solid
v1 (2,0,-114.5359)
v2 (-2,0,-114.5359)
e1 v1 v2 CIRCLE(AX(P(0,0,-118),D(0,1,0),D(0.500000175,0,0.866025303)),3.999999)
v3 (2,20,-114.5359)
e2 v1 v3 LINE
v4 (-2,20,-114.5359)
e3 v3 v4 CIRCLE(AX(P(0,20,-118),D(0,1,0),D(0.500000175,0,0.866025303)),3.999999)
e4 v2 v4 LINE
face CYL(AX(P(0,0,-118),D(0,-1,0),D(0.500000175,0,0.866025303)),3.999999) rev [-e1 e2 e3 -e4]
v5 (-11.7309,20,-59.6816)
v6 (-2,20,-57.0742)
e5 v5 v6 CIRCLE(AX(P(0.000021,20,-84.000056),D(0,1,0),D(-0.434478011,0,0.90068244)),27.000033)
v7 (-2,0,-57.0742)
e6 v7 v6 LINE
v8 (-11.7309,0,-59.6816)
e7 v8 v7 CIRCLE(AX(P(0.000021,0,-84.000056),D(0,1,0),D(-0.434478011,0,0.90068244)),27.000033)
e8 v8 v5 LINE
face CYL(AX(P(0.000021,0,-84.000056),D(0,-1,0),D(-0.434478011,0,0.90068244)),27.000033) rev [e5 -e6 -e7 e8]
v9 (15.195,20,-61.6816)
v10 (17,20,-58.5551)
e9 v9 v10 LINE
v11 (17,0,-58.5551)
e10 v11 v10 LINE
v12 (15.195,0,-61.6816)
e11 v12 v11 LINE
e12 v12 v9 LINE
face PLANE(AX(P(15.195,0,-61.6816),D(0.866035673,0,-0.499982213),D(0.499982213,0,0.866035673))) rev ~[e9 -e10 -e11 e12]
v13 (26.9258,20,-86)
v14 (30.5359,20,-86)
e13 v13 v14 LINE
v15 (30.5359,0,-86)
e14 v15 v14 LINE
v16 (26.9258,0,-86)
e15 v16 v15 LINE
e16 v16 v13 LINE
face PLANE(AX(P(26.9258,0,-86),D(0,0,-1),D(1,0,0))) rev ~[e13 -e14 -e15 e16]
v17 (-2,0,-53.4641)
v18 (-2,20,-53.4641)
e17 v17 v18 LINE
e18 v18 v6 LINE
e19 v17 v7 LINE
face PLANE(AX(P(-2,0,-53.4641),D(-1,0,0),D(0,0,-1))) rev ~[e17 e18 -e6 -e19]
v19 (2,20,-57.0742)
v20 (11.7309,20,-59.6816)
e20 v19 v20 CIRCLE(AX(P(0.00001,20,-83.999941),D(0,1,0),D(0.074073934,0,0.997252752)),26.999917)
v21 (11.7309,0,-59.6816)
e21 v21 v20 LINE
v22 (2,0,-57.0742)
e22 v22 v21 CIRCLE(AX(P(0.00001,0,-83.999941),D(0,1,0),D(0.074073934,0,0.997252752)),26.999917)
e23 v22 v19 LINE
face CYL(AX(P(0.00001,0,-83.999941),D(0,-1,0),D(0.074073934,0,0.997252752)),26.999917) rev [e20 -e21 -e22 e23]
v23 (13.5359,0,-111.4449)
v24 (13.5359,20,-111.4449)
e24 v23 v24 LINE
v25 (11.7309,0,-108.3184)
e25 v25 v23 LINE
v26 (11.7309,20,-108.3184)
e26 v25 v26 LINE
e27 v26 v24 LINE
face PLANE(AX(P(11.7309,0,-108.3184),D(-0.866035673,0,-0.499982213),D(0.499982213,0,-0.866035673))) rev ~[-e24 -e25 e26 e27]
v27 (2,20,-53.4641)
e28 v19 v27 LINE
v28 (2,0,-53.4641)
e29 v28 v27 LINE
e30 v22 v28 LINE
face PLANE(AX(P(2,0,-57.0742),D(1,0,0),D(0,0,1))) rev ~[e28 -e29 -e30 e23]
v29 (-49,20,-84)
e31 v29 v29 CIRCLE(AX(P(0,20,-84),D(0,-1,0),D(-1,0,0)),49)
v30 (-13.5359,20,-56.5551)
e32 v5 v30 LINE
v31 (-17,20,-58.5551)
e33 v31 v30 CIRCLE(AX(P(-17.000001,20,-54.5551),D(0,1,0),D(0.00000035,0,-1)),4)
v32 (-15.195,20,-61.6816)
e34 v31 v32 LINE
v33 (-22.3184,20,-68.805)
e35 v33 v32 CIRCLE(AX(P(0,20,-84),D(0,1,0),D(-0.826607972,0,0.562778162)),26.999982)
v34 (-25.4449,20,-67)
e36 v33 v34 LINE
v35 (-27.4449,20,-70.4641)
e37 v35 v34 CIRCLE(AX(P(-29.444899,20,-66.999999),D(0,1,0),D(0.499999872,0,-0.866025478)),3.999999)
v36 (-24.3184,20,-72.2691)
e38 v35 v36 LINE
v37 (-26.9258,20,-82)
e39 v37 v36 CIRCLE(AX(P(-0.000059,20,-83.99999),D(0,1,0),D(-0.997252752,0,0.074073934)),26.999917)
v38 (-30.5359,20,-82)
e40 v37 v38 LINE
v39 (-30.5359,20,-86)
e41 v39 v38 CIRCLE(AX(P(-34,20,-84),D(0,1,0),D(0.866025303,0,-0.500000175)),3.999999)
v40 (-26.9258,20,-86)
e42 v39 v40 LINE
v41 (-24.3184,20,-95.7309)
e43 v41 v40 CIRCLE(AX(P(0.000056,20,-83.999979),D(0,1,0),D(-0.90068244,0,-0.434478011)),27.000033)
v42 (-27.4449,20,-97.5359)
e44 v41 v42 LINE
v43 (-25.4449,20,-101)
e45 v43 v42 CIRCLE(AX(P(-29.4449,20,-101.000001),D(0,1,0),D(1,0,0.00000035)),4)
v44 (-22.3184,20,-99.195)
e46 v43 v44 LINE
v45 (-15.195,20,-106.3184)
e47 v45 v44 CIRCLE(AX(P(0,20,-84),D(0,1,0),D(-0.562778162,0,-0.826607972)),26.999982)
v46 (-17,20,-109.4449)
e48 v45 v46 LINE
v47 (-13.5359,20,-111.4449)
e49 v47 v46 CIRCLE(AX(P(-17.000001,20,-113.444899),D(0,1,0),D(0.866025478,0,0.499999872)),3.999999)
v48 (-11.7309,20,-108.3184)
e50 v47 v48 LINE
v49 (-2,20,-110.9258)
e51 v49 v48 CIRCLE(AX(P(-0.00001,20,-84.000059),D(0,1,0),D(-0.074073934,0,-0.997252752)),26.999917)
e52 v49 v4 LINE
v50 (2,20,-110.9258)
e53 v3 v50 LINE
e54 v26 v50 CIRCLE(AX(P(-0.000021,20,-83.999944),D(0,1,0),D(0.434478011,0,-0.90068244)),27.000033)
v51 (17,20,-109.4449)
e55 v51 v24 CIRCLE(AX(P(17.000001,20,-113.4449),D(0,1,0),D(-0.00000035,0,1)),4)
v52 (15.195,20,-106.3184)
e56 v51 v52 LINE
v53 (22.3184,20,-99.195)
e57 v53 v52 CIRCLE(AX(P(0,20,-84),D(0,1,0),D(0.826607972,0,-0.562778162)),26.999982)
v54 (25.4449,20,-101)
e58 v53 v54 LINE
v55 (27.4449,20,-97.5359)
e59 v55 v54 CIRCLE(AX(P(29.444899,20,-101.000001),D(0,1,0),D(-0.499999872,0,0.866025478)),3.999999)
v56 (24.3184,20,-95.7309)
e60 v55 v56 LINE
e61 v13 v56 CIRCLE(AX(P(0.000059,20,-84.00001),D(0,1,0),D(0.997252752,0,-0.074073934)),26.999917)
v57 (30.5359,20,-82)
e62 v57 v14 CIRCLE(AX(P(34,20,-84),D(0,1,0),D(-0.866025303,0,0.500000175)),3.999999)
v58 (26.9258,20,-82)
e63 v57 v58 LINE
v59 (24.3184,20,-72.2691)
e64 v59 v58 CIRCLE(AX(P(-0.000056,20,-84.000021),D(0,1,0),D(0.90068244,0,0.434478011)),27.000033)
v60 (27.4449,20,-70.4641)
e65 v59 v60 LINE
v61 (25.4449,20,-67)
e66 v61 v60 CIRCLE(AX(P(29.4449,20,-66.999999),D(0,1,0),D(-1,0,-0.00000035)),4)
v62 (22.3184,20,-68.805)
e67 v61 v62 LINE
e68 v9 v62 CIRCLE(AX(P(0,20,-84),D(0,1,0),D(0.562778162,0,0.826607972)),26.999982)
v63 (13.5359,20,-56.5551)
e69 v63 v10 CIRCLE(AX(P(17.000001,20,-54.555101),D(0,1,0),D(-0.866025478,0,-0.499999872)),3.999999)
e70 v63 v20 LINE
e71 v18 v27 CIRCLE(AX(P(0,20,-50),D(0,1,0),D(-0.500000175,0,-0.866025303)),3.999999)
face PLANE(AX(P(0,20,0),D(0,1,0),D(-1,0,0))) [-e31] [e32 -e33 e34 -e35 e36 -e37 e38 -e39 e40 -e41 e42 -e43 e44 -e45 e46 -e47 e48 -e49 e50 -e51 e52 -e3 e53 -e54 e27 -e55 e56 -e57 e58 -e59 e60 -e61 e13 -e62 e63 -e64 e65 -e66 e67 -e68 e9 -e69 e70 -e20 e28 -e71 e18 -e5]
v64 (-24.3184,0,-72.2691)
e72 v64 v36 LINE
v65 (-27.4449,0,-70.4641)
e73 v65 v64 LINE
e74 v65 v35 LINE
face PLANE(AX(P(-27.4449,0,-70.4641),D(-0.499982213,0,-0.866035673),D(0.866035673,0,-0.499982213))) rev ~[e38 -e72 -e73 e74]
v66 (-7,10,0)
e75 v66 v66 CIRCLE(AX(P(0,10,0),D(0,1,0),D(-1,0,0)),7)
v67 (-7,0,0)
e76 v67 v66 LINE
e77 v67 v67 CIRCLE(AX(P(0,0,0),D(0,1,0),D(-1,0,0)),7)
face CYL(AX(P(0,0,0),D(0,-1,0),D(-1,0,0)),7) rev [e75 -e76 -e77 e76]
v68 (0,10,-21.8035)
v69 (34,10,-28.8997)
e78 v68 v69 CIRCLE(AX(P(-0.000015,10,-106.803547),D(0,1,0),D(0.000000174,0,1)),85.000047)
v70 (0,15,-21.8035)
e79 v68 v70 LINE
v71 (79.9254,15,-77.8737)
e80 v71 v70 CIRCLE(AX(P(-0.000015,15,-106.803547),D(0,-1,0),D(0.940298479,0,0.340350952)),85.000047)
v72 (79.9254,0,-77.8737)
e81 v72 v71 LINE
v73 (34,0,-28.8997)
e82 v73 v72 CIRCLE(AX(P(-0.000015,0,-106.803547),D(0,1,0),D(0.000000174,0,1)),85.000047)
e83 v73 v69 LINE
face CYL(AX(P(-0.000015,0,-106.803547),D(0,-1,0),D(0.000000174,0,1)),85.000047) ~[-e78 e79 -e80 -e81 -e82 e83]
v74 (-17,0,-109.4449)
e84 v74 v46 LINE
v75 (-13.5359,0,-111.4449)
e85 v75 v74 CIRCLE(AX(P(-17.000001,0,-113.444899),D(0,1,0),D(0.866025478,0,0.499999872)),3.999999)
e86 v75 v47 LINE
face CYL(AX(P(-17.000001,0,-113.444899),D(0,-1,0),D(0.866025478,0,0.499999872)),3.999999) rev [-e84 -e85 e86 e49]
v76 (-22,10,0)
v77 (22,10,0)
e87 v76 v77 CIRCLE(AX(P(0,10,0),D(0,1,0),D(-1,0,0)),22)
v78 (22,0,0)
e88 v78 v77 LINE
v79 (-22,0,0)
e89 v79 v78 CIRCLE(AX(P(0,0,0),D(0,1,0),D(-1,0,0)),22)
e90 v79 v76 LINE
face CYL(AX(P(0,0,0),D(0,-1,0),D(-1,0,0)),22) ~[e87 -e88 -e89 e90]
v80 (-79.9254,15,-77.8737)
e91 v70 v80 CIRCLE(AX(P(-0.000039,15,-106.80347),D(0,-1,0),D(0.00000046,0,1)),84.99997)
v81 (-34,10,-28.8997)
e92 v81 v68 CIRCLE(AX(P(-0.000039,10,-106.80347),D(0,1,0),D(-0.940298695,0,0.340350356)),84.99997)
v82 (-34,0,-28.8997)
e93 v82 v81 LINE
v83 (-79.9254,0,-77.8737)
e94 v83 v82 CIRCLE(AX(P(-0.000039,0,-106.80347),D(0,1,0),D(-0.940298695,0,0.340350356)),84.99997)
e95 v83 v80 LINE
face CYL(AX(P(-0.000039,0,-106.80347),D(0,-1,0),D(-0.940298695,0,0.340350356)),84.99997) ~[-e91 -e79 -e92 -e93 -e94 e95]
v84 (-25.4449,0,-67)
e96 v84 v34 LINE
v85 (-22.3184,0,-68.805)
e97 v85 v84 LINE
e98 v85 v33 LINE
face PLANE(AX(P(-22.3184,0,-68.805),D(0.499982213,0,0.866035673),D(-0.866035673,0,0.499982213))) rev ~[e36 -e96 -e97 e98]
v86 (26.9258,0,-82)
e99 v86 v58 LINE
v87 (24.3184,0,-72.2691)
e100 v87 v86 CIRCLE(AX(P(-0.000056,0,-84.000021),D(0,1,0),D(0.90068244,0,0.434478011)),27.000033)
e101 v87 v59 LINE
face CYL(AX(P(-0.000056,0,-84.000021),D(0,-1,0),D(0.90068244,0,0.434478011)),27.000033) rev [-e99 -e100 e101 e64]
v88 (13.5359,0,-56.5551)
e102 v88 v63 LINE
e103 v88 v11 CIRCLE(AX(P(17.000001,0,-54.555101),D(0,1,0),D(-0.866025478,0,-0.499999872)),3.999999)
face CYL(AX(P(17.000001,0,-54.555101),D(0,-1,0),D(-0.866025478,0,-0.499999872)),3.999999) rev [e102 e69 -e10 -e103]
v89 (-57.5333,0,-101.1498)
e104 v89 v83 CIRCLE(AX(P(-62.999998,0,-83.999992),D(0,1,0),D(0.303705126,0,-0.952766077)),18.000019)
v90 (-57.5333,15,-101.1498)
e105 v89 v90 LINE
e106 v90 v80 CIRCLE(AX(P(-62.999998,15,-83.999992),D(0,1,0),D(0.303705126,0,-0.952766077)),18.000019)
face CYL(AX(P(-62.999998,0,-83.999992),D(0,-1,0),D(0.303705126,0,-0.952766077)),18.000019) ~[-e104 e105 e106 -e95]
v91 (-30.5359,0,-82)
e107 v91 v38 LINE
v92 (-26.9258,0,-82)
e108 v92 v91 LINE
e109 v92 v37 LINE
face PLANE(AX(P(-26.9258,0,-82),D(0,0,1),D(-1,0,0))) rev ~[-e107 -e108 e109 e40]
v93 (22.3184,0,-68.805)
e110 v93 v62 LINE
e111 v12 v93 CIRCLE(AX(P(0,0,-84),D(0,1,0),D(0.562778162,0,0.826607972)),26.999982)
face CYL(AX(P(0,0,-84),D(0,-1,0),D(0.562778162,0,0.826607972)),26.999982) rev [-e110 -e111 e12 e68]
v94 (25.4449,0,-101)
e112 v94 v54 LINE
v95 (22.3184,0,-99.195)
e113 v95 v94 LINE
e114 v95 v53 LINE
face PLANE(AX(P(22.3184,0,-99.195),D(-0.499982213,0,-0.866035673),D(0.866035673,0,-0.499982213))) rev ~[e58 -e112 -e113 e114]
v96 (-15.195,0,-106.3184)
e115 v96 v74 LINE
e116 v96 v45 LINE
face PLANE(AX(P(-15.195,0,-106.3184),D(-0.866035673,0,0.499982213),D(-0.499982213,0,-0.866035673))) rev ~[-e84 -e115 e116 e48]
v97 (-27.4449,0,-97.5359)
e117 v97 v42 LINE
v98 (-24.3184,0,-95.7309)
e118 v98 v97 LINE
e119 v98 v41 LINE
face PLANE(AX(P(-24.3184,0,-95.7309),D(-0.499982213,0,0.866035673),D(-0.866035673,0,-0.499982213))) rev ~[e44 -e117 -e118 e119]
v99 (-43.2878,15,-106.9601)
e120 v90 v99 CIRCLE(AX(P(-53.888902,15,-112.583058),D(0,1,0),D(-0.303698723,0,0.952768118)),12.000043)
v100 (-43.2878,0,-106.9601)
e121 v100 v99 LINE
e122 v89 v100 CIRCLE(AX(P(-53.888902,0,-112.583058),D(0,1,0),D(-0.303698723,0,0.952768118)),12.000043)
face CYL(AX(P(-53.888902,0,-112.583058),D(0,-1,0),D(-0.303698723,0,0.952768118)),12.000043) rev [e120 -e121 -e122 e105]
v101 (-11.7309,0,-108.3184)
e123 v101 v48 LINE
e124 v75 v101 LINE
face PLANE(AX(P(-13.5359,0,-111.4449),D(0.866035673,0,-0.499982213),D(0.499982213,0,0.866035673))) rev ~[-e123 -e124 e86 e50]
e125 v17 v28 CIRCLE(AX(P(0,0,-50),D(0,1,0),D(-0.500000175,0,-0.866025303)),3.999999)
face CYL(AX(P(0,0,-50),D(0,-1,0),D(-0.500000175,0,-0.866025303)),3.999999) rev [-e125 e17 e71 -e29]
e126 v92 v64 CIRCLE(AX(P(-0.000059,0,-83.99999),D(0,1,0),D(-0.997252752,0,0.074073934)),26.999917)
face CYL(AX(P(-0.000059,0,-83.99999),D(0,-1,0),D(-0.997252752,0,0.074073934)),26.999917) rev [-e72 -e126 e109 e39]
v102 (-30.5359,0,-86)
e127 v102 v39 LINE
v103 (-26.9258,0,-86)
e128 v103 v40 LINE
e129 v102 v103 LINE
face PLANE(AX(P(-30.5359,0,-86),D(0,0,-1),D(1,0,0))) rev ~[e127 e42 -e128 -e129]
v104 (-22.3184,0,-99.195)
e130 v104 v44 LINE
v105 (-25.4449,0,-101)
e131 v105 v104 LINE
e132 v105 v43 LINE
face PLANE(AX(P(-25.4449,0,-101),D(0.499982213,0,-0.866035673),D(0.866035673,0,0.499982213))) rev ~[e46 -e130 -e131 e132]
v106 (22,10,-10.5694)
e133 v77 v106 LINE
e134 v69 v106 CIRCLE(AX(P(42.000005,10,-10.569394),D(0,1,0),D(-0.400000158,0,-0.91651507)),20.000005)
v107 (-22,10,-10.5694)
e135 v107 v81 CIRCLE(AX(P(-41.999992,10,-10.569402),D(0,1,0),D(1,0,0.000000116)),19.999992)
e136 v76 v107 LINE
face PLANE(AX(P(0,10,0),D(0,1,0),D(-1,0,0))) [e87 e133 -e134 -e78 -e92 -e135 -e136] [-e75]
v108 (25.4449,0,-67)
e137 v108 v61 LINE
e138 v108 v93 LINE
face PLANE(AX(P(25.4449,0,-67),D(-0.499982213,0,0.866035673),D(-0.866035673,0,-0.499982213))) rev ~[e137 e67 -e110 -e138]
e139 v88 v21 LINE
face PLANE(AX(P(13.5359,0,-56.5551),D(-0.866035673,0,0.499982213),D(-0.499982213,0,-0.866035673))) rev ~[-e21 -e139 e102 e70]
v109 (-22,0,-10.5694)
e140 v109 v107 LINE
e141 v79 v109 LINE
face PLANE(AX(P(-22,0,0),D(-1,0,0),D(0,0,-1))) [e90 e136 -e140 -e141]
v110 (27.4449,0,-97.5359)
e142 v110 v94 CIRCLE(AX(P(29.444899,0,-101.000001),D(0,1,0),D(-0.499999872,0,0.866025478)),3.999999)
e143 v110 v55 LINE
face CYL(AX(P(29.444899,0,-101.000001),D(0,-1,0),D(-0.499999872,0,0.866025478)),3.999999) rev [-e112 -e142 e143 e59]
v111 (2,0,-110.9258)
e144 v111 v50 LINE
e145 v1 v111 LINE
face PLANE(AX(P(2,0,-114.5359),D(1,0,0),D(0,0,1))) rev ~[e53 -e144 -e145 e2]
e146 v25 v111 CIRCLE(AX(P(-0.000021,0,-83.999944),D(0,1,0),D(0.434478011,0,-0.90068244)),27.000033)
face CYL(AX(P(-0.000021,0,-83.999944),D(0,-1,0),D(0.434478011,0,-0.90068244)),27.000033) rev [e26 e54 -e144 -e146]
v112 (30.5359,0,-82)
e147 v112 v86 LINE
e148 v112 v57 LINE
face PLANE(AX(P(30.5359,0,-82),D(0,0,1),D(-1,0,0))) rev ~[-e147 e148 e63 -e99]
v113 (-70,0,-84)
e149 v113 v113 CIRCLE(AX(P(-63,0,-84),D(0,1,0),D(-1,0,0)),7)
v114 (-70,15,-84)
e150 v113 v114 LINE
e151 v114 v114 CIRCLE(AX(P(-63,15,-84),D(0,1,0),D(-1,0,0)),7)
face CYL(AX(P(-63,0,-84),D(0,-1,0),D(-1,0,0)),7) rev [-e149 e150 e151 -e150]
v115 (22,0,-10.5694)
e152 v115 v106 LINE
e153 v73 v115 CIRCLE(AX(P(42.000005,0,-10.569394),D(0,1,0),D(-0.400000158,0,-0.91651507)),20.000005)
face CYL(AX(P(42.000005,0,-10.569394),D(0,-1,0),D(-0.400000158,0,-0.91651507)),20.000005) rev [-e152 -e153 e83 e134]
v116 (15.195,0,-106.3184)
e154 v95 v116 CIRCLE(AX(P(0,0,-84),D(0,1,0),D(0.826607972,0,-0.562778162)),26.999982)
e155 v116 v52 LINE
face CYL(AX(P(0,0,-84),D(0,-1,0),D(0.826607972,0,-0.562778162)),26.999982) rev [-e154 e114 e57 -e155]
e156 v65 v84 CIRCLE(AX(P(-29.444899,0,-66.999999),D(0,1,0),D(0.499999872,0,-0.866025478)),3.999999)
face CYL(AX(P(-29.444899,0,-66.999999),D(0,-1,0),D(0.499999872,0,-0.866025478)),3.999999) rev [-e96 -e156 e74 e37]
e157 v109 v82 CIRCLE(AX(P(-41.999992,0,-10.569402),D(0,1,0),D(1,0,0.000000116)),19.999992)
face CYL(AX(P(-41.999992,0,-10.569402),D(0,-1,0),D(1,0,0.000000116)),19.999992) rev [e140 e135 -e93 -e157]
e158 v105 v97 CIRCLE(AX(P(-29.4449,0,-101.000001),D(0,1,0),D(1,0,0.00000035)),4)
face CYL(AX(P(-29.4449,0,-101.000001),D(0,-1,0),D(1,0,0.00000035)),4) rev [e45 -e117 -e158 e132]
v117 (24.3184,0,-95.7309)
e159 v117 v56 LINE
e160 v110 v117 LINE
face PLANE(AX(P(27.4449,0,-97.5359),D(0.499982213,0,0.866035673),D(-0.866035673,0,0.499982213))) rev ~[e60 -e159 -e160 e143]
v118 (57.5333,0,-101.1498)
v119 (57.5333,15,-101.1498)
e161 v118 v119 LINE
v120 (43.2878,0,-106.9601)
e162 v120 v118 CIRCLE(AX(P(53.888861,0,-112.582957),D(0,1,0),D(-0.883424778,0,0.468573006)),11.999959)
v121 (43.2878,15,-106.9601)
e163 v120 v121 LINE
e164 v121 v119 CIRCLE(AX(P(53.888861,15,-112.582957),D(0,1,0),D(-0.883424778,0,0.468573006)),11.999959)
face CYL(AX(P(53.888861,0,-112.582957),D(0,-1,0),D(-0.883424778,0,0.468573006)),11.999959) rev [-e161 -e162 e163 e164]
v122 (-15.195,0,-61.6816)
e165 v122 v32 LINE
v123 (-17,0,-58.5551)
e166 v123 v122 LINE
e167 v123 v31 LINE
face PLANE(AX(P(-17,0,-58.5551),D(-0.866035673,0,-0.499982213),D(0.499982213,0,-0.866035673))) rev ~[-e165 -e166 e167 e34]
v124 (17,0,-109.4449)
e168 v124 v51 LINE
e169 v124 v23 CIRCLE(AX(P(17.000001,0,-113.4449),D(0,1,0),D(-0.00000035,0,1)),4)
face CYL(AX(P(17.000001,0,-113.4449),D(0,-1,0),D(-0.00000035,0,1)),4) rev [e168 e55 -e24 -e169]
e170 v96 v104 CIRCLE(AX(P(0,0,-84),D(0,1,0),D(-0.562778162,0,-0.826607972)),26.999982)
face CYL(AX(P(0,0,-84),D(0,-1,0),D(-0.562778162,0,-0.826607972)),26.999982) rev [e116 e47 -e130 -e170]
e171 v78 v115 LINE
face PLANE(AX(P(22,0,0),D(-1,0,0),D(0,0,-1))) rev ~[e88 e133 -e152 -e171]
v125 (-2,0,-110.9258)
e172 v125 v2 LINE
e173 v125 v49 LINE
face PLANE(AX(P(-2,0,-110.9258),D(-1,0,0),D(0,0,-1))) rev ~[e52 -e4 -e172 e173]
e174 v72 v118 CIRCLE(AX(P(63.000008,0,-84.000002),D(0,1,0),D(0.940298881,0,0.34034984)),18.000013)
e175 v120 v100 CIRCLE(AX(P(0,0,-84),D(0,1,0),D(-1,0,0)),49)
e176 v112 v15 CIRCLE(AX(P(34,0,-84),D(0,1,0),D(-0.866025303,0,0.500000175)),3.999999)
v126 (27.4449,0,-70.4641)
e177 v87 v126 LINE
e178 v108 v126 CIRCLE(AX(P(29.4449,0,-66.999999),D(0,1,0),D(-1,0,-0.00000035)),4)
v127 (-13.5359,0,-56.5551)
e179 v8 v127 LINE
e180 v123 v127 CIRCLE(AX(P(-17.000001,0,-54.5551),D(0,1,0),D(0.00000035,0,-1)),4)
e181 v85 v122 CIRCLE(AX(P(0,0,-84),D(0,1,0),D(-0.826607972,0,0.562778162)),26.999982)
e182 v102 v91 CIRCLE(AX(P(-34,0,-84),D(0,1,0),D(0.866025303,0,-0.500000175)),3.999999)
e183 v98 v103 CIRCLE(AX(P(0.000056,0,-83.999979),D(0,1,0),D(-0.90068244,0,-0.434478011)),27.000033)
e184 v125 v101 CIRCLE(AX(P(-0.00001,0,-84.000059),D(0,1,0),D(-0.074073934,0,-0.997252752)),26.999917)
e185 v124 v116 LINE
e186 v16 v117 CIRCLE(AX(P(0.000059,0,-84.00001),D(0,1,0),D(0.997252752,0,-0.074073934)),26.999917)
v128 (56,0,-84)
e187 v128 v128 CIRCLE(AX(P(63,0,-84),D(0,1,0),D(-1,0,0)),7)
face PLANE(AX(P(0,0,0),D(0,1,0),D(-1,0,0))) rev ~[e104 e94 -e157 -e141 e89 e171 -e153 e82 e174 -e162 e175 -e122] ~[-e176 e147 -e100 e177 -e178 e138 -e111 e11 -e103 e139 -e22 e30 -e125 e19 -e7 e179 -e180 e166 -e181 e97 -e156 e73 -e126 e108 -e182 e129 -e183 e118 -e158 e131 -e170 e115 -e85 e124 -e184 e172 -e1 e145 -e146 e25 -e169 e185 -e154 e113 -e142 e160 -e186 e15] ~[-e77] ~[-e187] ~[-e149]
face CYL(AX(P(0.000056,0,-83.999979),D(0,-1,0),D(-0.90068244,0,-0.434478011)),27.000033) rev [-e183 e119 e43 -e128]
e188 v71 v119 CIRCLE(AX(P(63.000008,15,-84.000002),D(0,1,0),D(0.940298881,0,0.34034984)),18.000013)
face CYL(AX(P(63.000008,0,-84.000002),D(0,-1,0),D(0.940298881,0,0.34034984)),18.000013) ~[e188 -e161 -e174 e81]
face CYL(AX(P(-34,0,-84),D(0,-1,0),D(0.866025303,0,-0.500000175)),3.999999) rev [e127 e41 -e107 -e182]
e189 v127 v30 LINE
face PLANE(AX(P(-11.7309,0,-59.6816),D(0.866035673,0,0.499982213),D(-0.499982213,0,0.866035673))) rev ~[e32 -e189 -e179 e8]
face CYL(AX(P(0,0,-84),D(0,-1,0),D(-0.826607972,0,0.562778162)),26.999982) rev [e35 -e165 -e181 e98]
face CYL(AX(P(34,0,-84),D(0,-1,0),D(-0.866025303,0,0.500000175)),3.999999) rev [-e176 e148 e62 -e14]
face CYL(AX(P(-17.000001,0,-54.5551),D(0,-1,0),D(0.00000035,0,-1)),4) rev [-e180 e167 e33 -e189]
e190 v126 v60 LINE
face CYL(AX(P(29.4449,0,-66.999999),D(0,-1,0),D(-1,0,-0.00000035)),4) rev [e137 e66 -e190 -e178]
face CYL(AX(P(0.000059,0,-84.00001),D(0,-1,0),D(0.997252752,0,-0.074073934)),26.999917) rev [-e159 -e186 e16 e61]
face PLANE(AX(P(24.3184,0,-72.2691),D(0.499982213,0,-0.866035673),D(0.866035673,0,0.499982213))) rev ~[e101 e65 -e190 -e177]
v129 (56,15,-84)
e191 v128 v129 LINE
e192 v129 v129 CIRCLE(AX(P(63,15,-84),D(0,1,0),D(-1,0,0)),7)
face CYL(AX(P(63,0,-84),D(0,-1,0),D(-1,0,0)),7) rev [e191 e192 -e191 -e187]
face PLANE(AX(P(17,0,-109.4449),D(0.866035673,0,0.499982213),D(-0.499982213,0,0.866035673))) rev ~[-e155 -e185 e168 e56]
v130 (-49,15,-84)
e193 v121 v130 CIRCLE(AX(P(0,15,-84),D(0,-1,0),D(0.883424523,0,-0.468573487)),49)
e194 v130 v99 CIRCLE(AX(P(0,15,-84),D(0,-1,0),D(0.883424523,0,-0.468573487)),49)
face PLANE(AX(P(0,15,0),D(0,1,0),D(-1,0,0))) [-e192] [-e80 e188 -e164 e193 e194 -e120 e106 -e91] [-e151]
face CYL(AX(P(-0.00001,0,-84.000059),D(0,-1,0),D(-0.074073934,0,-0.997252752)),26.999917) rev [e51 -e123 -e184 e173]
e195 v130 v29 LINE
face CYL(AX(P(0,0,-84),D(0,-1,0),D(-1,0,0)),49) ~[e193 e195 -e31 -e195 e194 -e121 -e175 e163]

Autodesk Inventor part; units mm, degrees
ref_plane "YZ Plane" through (0, 0, 0) normal (1, 0, 0) x (0, 1, 0)
ref_plane "XZ Plane" through (0, 0, 0) normal (0, 1, 0) x (-1, 0, 0)
ref_plane "XY Plane" through (0, 0, 0) normal (0, 0, 1) x (1, 0, 0)
sketch "Sketch1" plane through (0, 0, 0) normal (0, 1, 0) x (-1, 0, 0)
  circle A0 centre (0, 0) radius 7
  arc A1 (22, 0) -> (-22, 0) centre (0, 0) ccw
  line L0 (0, 0) -> (0, -84) construction
  circle A2 centre (0, -84) radius 49
  arc A3 (30.5359, -86) -> (30.5359, -82) centre (34, -84) ccw
  line L1 (26.9258, -82) -> (30.5359, -82)
  line L2 (30.5359, -86) -> (26.9258, -86)
  line L3 (26.9258, -82) -> (30.5359, -86) construction
  line L4 (30.5359, -82) -> (26.9258, -86) construction
  line L5 (27.4449, -70.4641) -> (24.3184, -72.2691)
  arc A4 (27.4449, -70.4641) -> (25.4449, -67) centre (29.4449, -67) ccw
  line L6 (22.3184, -68.805) -> (25.4449, -67)
  line L7 (17, -58.5551) -> (15.195, -61.6816)
  arc A5 (17, -58.5551) -> (13.5359, -56.5551) centre (17, -54.5551) ccw
  line L8 (11.7309, -59.6816) -> (13.5359, -56.5551)
  line L9 (2, -53.4641) -> (2, -57.0742)
  arc A6 (2, -53.4641) -> (-2, -53.4641) centre (0, -50) ccw
  line L10 (-2, -57.0742) -> (-2, -53.4641)
  line L11 (-13.5359, -56.5551) -> (-11.7309, -59.6816)
  arc A7 (-13.5359, -56.5551) -> (-17, -58.5551) centre (-17, -54.5551) ccw
  line L12 (-15.195, -61.6816) -> (-17, -58.5551)
  line L13 (-25.4449, -67) -> (-22.3184, -68.805)
  arc A8 (-25.4449, -67) -> (-27.4449, -70.4641) centre (-29.4449, -67) ccw
  line L14 (-24.3184, -72.2691) -> (-27.4449, -70.4641)
  line L15 (-30.5359, -82) -> (-26.9258, -82)
  arc A9 (-30.5359, -82) -> (-30.5359, -86) centre (-34, -84) ccw
  line L16 (-26.9258, -86) -> (-30.5359, -86)
  line L17 (-27.4449, -97.5359) -> (-24.3184, -95.7309)
  arc A10 (-27.4449, -97.5359) -> (-25.4449, -101) centre (-29.4449, -101) ccw
  line L18 (-22.3184, -99.195) -> (-25.4449, -101)
  line L19 (-17, -109.4449) -> (-15.195, -106.3184)
  arc A11 (-17, -109.4449) -> (-13.5359, -111.4449) centre (-17, -113.4449) ccw
  line L20 (-11.7309, -108.3184) -> (-13.5359, -111.4449)
  line L21 (-2, -114.5359) -> (-2, -110.9258)
  arc A12 (-2, -114.5359) -> (2, -114.5359) centre (0, -118) ccw
  line L22 (2, -110.9258) -> (2, -114.5359)
  line L23 (13.5359, -111.4449) -> (11.7309, -108.3184)
  arc A13 (13.5359, -111.4449) -> (17, -109.4449) centre (17, -113.4449) ccw
  line L24 (15.195, -106.3184) -> (17, -109.4449)
  line L25 (25.4449, -101) -> (22.3184, -99.195)
  arc A14 (25.4449, -101) -> (27.4449, -97.5359) centre (29.4449, -101) ccw
  line L26 (24.3184, -95.7309) -> (27.4449, -97.5359)
  circle A15 centre (63, -84) radius 7
  arc A16 (57.5333, -101.1498) -> (79.9254, -77.8737) centre (63, -84) ccw
  arc A17 (57.5333, -101.1498) -> (43.2878, -106.9601) centre (53.8889, -112.583) ccw
  arc A18 (79.9254, -77.8737) -> (0, -21.8035) centre (0, -106.8035) ccw
  line L27 (22, 0) -> (22, -10.5694)
  arc A19 (22, -10.5694) -> (34, -28.8997) centre (42, -10.5694) ccw
  circle A20 centre (-63, -84) radius 7
  arc A21 (-79.9254, -77.8737) -> (-57.5333, -101.1498) centre (-63, -84) ccw
  arc A22 (-43.2878, -106.9601) -> (-57.5333, -101.1498) centre (-53.8889, -112.583) ccw
  arc A23 (0, -21.8035) -> (-79.9254, -77.8737) centre (0, -106.8035) ccw
  line L28 (-22, 0) -> (-22, -10.5694)
  arc A24 (-34, -28.8997) -> (-22, -10.5694) centre (-42, -10.5694) ccw
  arc A25 (24.3184, -95.7309) -> (26.9258, -86) centre (0, -84) ccw
  arc A26 (15.195, -106.3184) -> (22.3184, -99.195) centre (0, -84) ccw
  arc A27 (2, -110.9258) -> (11.7309, -108.3184) centre (0, -84) ccw
  arc A28 (-11.7309, -108.3184) -> (-2, -110.9258) centre (0, -84) ccw
  arc A29 (-22.3184, -99.195) -> (-15.195, -106.3184) centre (0, -84) ccw
  arc A30 (-26.9258, -86) -> (-24.3184, -95.7309) centre (0, -84) ccw
  arc A31 (-24.3184, -72.2691) -> (-26.9258, -82) centre (0, -84) ccw
  arc A32 (-15.195, -61.6816) -> (-22.3184, -68.805) centre (0, -84) ccw
  arc A33 (-2, -57.0742) -> (-11.7309, -59.6816) centre (0, -84) ccw
  arc A34 (11.7309, -59.6816) -> (2, -57.0742) centre (0, -84) ccw
  arc A35 (26.9258, -82) -> (24.3184, -72.2691) centre (0, -84) ccw
  arc A36 (22.3184, -68.805) -> (15.195, -61.6816) centre (0, -84) ccw
  point P0 (28.7309, -84)
  point P1 (-43.2878, -106.9601)
  dimension "d4" = 98
  dimension "d0" = 14
  dimension "d1" = 22
  dimension "d2" = 84
  dimension "d5" = 8
  dimension "d6" = 34
  dimension "d8" = 4
  dimension "d11" = 360
  dimension "d14" = 63
  dimension "d15" = 18
  dimension "d16" = 12
  dimension "d17" = 85
  dimension "d19" = 20
  dimension "d20" = 54
extrude "Extrusion1" add sketch "Sketch1" along normal blind 10 contours L27 A19 A18 A23 A24 L28 A1
extrude "Extrusion2" add sketch "Sketch1" along normal blind 15 contours A18 A16 A17 A2 A22 A21 A23
extrude "Extrusion3" add sketch "Sketch1" along normal blind 20 contours A2
properties part number "Roseta"
